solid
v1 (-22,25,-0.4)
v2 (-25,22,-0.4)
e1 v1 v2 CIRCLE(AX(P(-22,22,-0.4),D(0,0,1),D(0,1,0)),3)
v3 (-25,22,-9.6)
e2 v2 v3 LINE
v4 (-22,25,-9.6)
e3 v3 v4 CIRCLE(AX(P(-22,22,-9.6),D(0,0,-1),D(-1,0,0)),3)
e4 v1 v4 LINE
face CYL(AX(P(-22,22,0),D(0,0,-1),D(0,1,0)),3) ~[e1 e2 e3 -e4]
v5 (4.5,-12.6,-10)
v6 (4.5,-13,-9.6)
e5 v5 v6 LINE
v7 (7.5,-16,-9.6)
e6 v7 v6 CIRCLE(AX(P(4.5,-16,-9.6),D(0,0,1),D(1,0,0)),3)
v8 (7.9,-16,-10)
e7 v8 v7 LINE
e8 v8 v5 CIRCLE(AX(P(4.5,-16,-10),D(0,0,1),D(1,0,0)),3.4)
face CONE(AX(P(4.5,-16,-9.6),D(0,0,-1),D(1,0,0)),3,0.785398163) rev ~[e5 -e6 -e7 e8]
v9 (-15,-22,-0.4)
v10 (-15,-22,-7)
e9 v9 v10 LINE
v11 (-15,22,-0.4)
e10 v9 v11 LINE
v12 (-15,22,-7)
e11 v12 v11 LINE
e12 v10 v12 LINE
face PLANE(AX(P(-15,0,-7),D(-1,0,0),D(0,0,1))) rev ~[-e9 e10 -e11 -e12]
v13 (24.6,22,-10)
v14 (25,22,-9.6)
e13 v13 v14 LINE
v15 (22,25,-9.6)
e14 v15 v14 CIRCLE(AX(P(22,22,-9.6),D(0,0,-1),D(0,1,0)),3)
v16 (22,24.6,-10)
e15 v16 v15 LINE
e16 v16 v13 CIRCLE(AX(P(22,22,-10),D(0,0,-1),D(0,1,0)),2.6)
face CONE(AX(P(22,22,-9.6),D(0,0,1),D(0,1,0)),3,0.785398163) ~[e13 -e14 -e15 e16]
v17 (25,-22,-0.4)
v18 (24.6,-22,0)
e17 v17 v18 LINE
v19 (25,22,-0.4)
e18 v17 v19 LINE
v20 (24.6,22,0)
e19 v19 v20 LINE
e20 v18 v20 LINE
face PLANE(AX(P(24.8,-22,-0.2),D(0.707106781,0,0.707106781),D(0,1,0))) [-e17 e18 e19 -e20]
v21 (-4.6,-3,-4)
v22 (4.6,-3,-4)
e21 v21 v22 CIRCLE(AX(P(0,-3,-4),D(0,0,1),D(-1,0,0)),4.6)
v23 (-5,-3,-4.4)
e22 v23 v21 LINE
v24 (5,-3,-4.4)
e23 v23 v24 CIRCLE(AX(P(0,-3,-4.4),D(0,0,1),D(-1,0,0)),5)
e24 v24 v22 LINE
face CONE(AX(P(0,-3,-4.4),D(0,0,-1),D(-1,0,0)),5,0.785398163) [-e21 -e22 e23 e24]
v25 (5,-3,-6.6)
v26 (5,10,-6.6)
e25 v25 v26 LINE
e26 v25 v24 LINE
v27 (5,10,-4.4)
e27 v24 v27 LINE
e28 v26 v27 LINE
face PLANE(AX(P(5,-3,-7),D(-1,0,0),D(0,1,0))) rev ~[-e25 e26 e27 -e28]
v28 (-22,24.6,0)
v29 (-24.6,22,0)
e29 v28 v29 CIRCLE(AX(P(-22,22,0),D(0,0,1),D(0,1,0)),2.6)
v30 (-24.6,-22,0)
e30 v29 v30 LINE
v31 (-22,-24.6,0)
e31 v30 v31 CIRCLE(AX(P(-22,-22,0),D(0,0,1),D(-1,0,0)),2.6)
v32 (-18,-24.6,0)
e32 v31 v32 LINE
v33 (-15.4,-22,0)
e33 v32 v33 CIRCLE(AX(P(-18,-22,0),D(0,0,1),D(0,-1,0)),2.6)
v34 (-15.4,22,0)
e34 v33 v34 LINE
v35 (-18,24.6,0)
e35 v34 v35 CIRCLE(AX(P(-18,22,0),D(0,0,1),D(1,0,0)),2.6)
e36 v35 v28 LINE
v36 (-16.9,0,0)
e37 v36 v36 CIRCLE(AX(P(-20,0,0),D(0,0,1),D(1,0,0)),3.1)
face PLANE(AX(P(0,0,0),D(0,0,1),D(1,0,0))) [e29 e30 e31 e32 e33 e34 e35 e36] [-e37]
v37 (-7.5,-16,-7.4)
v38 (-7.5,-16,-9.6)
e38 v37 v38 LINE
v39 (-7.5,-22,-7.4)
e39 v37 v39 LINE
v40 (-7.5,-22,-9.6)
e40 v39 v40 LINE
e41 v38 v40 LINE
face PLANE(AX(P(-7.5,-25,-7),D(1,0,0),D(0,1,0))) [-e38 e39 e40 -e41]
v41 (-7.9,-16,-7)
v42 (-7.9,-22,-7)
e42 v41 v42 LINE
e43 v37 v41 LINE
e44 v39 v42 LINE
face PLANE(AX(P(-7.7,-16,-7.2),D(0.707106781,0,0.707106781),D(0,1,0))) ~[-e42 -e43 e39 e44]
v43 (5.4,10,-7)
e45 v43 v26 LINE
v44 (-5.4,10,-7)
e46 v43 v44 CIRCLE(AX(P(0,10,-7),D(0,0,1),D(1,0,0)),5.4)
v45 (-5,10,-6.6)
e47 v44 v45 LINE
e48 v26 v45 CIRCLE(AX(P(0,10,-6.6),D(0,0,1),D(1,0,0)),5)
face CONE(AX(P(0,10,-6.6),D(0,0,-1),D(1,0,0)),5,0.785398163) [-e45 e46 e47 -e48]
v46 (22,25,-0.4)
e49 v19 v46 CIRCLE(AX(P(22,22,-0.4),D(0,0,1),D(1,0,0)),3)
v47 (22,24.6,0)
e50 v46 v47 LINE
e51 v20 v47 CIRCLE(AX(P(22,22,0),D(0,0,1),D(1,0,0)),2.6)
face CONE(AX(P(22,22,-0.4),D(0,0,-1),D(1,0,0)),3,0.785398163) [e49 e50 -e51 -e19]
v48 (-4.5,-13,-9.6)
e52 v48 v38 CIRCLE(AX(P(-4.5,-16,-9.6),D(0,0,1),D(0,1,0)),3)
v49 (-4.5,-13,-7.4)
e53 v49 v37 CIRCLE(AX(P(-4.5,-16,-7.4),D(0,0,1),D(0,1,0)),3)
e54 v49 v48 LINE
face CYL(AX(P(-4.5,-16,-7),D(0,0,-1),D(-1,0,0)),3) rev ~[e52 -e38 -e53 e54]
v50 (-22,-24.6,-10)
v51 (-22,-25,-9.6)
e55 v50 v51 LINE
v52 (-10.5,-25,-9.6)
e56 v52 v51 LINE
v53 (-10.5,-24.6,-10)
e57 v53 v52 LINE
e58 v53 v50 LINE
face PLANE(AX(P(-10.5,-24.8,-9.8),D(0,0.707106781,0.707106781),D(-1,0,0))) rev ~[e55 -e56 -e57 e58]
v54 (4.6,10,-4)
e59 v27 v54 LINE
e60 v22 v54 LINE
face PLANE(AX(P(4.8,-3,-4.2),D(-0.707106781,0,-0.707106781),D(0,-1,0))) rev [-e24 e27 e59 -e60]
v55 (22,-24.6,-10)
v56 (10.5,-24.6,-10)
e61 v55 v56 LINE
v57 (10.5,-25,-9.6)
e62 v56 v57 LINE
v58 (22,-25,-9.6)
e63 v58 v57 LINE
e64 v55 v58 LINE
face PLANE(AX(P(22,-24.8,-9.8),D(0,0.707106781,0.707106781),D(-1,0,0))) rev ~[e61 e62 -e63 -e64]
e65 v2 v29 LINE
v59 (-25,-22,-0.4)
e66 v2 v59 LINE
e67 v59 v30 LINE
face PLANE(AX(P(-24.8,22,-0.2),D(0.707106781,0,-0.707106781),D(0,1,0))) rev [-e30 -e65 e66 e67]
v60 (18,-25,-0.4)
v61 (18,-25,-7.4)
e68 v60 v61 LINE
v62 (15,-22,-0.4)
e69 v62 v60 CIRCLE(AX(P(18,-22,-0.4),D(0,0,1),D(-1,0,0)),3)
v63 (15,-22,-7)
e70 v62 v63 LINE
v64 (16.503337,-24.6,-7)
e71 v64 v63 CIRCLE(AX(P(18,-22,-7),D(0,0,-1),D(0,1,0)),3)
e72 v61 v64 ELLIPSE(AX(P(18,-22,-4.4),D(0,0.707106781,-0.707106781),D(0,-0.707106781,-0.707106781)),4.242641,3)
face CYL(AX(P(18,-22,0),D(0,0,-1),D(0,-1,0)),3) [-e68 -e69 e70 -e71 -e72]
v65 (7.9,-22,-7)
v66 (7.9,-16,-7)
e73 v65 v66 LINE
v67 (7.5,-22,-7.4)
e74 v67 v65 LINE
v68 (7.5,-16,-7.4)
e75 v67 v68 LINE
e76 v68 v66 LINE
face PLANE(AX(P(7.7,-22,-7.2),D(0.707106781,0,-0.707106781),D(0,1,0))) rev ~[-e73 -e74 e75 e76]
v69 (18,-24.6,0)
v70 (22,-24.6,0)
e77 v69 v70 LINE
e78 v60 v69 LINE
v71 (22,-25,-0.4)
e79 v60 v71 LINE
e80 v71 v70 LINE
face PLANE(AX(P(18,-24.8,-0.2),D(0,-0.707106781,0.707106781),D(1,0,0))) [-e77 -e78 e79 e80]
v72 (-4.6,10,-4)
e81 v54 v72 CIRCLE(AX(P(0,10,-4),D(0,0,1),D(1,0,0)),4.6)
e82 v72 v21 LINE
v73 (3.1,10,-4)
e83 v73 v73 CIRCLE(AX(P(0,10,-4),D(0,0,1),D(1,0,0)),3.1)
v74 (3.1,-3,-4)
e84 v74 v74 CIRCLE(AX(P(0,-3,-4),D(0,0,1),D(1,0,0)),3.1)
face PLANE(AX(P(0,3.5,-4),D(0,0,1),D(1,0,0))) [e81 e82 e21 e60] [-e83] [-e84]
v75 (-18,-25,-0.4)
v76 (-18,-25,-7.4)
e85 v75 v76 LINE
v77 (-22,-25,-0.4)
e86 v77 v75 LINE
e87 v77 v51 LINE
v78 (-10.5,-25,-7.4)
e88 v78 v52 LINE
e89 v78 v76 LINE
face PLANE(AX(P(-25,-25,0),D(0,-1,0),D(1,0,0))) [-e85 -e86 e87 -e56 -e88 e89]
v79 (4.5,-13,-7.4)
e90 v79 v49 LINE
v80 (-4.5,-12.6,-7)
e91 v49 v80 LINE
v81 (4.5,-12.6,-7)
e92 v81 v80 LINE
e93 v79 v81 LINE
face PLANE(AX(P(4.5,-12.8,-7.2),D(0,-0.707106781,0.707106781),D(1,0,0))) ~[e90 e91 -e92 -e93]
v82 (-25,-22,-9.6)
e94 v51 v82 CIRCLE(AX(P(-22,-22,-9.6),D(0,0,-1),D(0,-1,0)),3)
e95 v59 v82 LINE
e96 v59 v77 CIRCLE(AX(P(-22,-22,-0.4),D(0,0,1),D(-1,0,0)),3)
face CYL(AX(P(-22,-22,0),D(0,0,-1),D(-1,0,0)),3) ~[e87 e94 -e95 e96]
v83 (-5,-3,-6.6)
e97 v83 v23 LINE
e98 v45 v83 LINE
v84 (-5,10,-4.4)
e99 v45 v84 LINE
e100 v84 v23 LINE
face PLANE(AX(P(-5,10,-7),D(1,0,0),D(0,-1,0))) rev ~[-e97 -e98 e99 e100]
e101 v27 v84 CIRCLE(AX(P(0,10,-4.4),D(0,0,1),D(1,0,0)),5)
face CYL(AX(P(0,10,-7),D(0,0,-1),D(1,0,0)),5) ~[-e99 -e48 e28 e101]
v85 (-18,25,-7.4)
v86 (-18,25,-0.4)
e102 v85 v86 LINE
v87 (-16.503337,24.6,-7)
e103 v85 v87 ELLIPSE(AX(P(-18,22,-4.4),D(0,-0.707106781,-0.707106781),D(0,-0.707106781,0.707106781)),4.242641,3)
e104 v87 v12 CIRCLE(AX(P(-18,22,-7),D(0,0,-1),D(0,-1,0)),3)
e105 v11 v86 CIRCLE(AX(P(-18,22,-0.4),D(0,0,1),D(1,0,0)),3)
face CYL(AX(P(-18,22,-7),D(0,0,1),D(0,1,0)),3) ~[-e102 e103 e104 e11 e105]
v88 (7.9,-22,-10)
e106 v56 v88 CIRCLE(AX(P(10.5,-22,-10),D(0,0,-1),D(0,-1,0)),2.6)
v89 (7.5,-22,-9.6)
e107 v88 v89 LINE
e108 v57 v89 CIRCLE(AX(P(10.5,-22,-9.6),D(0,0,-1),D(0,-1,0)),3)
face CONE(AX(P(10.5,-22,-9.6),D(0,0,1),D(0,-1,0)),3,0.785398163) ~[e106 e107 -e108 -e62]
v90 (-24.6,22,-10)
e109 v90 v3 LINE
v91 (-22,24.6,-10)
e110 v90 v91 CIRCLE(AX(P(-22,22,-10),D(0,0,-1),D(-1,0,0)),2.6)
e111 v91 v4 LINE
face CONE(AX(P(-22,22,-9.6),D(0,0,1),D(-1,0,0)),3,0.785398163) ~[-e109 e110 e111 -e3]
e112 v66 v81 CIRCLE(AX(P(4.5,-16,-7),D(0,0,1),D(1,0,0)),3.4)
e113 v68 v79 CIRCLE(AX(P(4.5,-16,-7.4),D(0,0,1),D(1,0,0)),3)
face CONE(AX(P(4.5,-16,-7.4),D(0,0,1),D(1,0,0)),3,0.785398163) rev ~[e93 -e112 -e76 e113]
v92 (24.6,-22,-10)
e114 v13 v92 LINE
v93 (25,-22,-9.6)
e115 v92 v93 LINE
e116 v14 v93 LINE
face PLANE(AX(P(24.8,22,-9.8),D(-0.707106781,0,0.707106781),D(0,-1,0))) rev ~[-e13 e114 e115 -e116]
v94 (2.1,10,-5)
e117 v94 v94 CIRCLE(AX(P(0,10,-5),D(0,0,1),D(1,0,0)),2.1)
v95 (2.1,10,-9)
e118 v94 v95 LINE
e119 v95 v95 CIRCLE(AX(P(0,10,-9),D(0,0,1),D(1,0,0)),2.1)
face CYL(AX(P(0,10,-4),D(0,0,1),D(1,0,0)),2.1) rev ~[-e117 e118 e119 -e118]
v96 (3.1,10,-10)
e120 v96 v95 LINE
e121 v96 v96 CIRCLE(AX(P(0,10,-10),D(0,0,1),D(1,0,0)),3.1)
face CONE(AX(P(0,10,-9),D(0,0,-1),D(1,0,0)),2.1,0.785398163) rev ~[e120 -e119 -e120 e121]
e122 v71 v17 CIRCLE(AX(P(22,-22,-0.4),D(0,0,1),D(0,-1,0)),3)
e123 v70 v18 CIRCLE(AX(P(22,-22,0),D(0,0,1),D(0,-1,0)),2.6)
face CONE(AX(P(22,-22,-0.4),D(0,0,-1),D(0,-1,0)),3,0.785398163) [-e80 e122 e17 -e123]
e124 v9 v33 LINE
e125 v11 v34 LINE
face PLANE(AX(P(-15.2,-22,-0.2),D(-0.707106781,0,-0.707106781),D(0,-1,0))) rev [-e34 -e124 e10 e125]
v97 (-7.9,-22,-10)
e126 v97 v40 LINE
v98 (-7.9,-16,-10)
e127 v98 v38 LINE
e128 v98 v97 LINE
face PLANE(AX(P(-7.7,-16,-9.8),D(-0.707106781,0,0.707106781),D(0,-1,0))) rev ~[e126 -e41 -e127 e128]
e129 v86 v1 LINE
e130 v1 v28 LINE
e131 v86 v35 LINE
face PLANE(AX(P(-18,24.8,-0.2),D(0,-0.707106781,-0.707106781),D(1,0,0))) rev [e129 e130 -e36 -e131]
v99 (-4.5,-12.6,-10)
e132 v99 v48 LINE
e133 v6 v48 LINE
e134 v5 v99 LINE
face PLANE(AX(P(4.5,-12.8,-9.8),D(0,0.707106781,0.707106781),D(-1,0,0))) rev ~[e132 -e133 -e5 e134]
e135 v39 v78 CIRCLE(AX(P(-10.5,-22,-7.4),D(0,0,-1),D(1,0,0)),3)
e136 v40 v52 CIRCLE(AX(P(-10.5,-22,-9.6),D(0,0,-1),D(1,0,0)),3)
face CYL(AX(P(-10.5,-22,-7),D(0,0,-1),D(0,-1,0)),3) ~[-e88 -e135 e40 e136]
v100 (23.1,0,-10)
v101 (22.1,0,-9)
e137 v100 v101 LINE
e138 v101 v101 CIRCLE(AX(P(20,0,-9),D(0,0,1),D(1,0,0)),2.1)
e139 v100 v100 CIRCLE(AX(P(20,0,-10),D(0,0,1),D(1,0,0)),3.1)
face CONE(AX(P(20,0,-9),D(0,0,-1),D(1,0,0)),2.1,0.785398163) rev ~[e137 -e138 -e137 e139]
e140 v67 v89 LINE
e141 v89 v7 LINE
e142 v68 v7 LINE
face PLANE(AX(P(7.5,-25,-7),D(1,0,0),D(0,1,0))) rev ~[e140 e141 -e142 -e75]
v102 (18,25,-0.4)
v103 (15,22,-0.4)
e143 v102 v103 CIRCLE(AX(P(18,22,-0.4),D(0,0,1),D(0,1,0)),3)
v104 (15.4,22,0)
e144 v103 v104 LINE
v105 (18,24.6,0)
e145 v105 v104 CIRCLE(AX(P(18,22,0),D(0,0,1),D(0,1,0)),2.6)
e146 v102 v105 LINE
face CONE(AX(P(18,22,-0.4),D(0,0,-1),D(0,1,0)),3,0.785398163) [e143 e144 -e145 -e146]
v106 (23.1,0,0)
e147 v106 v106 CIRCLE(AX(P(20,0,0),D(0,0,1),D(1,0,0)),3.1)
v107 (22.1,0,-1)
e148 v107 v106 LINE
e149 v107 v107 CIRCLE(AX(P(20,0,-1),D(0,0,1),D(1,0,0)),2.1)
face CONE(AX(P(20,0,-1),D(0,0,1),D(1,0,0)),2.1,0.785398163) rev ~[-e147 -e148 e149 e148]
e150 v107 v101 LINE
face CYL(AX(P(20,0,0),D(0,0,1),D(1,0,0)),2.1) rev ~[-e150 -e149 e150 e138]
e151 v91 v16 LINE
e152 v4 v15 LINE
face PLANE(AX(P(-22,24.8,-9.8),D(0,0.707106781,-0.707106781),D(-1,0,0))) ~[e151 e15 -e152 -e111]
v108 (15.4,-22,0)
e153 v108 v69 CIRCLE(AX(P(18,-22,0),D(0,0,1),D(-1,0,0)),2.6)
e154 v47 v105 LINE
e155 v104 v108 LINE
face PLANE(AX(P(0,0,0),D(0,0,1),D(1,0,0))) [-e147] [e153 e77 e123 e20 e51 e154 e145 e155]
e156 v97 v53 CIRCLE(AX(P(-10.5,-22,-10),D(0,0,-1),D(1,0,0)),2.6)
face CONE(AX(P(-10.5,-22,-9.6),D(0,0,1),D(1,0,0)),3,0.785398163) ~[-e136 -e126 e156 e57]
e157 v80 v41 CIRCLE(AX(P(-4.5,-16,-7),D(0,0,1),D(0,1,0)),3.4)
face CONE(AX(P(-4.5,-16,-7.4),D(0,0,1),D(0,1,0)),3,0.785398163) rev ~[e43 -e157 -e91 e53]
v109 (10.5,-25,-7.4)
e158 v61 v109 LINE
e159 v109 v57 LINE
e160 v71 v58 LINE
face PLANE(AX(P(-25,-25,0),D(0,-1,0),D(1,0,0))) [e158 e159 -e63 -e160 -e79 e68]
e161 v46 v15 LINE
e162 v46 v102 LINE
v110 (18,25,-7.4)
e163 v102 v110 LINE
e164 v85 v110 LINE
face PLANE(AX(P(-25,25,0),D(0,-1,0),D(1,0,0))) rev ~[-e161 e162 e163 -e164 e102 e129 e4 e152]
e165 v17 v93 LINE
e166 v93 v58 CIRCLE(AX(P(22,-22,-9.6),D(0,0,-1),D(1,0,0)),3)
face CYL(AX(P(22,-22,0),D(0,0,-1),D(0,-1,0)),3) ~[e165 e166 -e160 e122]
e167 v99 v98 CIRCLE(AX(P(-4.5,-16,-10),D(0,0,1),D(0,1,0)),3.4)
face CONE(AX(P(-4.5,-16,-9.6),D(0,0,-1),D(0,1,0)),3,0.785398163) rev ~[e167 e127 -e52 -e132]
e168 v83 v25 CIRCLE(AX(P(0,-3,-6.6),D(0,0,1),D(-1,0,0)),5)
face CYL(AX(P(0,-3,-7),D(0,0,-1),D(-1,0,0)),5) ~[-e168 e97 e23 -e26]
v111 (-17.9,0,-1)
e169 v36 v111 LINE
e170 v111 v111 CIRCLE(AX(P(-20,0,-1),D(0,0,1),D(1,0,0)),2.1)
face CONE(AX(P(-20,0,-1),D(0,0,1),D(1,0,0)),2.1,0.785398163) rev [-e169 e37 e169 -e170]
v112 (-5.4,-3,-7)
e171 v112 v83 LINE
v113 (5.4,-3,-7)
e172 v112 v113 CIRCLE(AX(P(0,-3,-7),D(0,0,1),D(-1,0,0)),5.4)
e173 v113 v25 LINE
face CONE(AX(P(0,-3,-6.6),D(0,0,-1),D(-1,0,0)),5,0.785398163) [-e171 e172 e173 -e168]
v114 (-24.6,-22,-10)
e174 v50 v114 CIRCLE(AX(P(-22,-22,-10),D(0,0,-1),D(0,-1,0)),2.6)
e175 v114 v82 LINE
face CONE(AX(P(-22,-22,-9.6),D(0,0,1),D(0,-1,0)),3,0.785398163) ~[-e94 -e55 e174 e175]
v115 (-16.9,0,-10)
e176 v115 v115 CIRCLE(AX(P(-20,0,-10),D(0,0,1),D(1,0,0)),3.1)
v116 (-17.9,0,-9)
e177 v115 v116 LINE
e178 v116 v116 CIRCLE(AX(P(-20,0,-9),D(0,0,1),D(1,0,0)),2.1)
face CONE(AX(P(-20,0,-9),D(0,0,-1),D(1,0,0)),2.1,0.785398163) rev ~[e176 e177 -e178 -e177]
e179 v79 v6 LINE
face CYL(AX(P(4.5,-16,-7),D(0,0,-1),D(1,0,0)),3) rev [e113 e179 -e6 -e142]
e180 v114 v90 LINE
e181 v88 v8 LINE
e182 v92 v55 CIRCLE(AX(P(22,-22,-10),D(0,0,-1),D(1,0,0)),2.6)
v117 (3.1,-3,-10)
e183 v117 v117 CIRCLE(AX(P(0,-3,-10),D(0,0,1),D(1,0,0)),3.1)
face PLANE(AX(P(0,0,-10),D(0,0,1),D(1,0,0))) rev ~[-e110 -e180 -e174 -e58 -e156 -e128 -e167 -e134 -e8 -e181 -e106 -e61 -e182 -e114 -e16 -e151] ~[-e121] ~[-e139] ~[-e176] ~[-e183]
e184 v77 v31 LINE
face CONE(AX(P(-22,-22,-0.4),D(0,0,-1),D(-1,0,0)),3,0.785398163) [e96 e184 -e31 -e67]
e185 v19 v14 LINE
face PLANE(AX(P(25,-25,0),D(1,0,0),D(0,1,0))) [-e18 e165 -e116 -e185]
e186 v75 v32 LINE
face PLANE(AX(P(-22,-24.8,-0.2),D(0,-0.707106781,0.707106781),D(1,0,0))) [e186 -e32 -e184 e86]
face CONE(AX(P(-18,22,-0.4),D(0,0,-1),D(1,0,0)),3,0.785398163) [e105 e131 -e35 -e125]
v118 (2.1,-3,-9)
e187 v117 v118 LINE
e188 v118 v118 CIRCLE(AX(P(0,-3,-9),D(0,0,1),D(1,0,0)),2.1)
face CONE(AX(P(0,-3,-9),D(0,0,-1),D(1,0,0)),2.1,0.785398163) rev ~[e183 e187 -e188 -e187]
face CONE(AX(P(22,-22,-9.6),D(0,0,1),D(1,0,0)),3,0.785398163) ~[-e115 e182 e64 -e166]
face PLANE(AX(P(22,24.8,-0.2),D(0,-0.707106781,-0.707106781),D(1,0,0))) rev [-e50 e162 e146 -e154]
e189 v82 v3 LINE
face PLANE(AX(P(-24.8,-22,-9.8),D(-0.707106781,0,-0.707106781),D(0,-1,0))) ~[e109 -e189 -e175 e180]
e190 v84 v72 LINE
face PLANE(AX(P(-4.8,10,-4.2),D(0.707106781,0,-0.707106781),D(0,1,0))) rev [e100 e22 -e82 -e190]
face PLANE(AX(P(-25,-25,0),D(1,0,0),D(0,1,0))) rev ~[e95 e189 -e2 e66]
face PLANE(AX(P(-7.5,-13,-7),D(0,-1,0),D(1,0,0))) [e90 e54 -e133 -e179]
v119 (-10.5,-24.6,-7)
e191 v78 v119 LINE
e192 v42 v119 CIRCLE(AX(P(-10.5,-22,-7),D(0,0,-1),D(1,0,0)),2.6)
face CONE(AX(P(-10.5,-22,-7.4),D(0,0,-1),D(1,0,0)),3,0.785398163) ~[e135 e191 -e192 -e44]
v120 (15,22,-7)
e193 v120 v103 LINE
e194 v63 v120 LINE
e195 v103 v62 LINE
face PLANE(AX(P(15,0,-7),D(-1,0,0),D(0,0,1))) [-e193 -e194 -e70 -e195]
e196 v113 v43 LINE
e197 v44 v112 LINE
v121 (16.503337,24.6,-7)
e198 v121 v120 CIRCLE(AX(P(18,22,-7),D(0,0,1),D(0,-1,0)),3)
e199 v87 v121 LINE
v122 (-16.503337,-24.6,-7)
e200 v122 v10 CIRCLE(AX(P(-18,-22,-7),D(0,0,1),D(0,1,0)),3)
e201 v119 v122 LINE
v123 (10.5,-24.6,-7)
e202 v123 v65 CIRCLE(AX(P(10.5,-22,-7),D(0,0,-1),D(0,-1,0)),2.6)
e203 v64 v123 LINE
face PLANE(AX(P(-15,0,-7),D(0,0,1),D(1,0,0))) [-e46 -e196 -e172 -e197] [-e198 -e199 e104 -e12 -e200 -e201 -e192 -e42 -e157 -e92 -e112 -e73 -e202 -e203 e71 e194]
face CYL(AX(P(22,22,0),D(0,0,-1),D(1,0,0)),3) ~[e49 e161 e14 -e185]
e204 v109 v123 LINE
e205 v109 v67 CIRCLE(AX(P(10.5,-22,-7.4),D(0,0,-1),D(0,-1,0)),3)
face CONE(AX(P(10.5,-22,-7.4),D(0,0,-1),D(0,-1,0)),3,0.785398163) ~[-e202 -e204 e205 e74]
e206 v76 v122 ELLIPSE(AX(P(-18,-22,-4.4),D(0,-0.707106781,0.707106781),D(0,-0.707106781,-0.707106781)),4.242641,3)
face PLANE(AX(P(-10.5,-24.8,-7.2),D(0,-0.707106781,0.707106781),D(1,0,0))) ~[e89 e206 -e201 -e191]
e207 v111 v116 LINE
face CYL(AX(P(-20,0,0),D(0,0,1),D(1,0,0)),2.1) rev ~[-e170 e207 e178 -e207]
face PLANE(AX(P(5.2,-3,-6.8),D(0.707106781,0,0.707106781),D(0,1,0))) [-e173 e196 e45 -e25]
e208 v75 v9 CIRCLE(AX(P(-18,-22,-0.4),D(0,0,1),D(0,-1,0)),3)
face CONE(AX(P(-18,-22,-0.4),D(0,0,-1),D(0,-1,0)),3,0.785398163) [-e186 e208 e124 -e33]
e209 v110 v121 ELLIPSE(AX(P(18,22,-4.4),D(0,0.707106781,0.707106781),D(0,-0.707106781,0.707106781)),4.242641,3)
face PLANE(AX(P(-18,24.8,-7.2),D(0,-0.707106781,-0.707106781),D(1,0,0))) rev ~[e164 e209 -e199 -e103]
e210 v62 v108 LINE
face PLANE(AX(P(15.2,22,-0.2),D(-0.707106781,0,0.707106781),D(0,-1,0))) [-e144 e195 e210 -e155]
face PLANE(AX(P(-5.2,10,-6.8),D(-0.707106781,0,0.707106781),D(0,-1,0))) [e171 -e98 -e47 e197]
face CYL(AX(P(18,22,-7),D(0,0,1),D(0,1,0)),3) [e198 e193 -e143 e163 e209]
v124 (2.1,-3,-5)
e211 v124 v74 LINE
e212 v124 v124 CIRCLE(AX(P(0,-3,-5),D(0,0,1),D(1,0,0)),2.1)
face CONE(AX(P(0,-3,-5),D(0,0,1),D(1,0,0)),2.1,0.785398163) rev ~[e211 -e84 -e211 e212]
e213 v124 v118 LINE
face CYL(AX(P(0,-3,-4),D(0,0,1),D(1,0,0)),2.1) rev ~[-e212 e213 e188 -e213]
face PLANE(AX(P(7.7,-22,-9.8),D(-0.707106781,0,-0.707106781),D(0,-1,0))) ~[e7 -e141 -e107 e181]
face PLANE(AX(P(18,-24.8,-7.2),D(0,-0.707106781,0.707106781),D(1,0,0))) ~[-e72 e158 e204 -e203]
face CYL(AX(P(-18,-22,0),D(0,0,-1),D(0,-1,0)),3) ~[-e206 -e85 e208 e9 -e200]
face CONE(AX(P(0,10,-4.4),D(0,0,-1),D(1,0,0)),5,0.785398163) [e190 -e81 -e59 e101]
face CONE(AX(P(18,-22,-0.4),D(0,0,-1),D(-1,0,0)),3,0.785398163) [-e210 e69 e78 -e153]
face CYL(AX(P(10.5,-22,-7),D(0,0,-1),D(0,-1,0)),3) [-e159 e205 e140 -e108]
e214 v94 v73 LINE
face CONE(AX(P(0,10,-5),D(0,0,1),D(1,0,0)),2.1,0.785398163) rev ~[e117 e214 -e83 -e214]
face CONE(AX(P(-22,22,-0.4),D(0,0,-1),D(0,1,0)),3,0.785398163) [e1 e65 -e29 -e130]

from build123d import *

# Parameters (mm, degrees)
SKETCH219_W          = 50
SKETCH219_H          = 50
PAD112_DEPTH         = 10
SKETCH220_W          = 30
SKETCH220_H          = 7
POCKET073_DEPTH      = 25.001
POCKET073_DEPTH_BACK = 25.001
SKETCH221_R          = 2.1
POCKET074_DEPTH      = 10.001
PAD113_DEPTH         = 3
SKETCH223_R          = 2.1
POCKET051_DEPTH      = 7
SKETCH224_W          = 15
SKETCH224_H          = 12
POCKET052_DEPTH      = 3.001
FILLET070_R          = 3
CHAMFER076_SIZE      = 1
FILLET071_R          = 3
CHAMFER077_SIZE      = 0.4
CHAMFER078_SIZE      = 0.4


with BuildPart() as part:
    # Sketch219 → Pad112 (new body)
    with BuildSketch(Plane.XY):
        Rectangle(SKETCH219_W, SKETCH219_H)
    extrude(amount=-PAD112_DEPTH)

    # Sketch220 → Pocket073 (cut, two sides)
    with BuildSketch(Plane.XZ) as pocket073_sk:
        with Locations((0, -3.5)):
            Rectangle(SKETCH220_W, SKETCH220_H)
    extrude(amount=-POCKET073_DEPTH, mode=Mode.SUBTRACT)
    extrude(pocket073_sk.sketch, amount=POCKET073_DEPTH_BACK, mode=Mode.SUBTRACT)

    # Sketch221 → Pocket074 (cut, through all)
    with BuildSketch(Plane.XY):
        with Locations((-20, 0)):
            Circle(SKETCH221_R)
        with Locations((20, 0)):
            Circle(SKETCH221_R)
    extrude(amount=-POCKET074_DEPTH, mode=Mode.SUBTRACT)

    # Sketch222 (on Face8 of Pocket074) → Pad113 (join)
    with BuildSketch(Plane.XY.offset(-7)):
        with BuildLine():
            ThreePointArc((5, 10), (0, 15), (-5, 10))
            Line((-5, 10), (-5, -3))
            ThreePointArc((-5, -3), (0, -8), (5, -3))
            Line((5, -3), (5, 10))
        make_face()
    extrude(amount=PAD113_DEPTH)

    # Sketch223 (on Face17 of Pad113) → Pocket051 (cut)
    with BuildSketch(Plane.XY.offset(-4)):
        with Locations((0, 10)):
            Circle(SKETCH223_R)
        with Locations((0, -3)):
            Circle(SKETCH223_R)
    extrude(amount=-POCKET051_DEPTH, mode=Mode.SUBTRACT)

    # Sketch224 (on Face8 of Pocket051) → Pocket052 (cut, through all)
    with BuildSketch(Plane.XY.offset(-7)):
        with Locations((0, -19)):
            Rectangle(SKETCH224_W, SKETCH224_H)
    extrude(amount=-POCKET052_DEPTH, mode=Mode.SUBTRACT)

    # Fillet070
    fillet070_edges = [part.edges().sort_by_distance(p)[0] for p in [
        (-7.5, -25, -8.5),
        (7.5, -25, -8.5),
        (-7.5, -13, -8.5),
        (7.5, -13, -8.5),
    ]]
    fillet(fillet070_edges, radius=FILLET070_R)

    # Chamfer076
    chamfer076_edges = [part.edges().sort_by_distance(p)[0] for p in [
        (-22.1, 0, 0),
        (-22.1, 0, -10),
        (-2.1, -3, -4),
        (-2.1, -3, -10),
        (-2.1, 10, -4),
        (-2.1, 10, -10),
        (17.9, 0, 0),
        (17.9, 0, -10),
    ]]
    chamfer(chamfer076_edges, length=CHAMFER076_SIZE)

    # Fillet071
    fillet071_edges = [part.edges().sort_by_distance(p)[0] for p in [
        (-25, -25, -5),
        (-25, 25, -5),
        (25, 25, -5),
        (25, -25, -5),
        (-15, -25, -3.5),
        (-15, 25, -3.5),
        (15, 25, -3.5),
        (15, -25, -3.5),
    ]]
    fillet(fillet071_edges, radius=FILLET071_R)

    # Chamfer077
    chamfer077_edges = [part.edges().sort_by_distance(p)[0] for p in [
        (8.37868, -24.12132, -10),
    ]]
    chamfer(chamfer077_edges, length=CHAMFER077_SIZE)

    # Chamfer078
    chamfer078_edges = [part.edges().sort_by_distance(p)[0] for p in [
        (-20, -25, 0),
        (20, -25, 0),
        (0, -8, -4),
        (0, -8, -7),
        (-12.75, -25, -7),
        (0, 25, -7),
    ]]
    chamfer(chamfer078_edges, length=CHAMFER078_SIZE)


solid = part.part
